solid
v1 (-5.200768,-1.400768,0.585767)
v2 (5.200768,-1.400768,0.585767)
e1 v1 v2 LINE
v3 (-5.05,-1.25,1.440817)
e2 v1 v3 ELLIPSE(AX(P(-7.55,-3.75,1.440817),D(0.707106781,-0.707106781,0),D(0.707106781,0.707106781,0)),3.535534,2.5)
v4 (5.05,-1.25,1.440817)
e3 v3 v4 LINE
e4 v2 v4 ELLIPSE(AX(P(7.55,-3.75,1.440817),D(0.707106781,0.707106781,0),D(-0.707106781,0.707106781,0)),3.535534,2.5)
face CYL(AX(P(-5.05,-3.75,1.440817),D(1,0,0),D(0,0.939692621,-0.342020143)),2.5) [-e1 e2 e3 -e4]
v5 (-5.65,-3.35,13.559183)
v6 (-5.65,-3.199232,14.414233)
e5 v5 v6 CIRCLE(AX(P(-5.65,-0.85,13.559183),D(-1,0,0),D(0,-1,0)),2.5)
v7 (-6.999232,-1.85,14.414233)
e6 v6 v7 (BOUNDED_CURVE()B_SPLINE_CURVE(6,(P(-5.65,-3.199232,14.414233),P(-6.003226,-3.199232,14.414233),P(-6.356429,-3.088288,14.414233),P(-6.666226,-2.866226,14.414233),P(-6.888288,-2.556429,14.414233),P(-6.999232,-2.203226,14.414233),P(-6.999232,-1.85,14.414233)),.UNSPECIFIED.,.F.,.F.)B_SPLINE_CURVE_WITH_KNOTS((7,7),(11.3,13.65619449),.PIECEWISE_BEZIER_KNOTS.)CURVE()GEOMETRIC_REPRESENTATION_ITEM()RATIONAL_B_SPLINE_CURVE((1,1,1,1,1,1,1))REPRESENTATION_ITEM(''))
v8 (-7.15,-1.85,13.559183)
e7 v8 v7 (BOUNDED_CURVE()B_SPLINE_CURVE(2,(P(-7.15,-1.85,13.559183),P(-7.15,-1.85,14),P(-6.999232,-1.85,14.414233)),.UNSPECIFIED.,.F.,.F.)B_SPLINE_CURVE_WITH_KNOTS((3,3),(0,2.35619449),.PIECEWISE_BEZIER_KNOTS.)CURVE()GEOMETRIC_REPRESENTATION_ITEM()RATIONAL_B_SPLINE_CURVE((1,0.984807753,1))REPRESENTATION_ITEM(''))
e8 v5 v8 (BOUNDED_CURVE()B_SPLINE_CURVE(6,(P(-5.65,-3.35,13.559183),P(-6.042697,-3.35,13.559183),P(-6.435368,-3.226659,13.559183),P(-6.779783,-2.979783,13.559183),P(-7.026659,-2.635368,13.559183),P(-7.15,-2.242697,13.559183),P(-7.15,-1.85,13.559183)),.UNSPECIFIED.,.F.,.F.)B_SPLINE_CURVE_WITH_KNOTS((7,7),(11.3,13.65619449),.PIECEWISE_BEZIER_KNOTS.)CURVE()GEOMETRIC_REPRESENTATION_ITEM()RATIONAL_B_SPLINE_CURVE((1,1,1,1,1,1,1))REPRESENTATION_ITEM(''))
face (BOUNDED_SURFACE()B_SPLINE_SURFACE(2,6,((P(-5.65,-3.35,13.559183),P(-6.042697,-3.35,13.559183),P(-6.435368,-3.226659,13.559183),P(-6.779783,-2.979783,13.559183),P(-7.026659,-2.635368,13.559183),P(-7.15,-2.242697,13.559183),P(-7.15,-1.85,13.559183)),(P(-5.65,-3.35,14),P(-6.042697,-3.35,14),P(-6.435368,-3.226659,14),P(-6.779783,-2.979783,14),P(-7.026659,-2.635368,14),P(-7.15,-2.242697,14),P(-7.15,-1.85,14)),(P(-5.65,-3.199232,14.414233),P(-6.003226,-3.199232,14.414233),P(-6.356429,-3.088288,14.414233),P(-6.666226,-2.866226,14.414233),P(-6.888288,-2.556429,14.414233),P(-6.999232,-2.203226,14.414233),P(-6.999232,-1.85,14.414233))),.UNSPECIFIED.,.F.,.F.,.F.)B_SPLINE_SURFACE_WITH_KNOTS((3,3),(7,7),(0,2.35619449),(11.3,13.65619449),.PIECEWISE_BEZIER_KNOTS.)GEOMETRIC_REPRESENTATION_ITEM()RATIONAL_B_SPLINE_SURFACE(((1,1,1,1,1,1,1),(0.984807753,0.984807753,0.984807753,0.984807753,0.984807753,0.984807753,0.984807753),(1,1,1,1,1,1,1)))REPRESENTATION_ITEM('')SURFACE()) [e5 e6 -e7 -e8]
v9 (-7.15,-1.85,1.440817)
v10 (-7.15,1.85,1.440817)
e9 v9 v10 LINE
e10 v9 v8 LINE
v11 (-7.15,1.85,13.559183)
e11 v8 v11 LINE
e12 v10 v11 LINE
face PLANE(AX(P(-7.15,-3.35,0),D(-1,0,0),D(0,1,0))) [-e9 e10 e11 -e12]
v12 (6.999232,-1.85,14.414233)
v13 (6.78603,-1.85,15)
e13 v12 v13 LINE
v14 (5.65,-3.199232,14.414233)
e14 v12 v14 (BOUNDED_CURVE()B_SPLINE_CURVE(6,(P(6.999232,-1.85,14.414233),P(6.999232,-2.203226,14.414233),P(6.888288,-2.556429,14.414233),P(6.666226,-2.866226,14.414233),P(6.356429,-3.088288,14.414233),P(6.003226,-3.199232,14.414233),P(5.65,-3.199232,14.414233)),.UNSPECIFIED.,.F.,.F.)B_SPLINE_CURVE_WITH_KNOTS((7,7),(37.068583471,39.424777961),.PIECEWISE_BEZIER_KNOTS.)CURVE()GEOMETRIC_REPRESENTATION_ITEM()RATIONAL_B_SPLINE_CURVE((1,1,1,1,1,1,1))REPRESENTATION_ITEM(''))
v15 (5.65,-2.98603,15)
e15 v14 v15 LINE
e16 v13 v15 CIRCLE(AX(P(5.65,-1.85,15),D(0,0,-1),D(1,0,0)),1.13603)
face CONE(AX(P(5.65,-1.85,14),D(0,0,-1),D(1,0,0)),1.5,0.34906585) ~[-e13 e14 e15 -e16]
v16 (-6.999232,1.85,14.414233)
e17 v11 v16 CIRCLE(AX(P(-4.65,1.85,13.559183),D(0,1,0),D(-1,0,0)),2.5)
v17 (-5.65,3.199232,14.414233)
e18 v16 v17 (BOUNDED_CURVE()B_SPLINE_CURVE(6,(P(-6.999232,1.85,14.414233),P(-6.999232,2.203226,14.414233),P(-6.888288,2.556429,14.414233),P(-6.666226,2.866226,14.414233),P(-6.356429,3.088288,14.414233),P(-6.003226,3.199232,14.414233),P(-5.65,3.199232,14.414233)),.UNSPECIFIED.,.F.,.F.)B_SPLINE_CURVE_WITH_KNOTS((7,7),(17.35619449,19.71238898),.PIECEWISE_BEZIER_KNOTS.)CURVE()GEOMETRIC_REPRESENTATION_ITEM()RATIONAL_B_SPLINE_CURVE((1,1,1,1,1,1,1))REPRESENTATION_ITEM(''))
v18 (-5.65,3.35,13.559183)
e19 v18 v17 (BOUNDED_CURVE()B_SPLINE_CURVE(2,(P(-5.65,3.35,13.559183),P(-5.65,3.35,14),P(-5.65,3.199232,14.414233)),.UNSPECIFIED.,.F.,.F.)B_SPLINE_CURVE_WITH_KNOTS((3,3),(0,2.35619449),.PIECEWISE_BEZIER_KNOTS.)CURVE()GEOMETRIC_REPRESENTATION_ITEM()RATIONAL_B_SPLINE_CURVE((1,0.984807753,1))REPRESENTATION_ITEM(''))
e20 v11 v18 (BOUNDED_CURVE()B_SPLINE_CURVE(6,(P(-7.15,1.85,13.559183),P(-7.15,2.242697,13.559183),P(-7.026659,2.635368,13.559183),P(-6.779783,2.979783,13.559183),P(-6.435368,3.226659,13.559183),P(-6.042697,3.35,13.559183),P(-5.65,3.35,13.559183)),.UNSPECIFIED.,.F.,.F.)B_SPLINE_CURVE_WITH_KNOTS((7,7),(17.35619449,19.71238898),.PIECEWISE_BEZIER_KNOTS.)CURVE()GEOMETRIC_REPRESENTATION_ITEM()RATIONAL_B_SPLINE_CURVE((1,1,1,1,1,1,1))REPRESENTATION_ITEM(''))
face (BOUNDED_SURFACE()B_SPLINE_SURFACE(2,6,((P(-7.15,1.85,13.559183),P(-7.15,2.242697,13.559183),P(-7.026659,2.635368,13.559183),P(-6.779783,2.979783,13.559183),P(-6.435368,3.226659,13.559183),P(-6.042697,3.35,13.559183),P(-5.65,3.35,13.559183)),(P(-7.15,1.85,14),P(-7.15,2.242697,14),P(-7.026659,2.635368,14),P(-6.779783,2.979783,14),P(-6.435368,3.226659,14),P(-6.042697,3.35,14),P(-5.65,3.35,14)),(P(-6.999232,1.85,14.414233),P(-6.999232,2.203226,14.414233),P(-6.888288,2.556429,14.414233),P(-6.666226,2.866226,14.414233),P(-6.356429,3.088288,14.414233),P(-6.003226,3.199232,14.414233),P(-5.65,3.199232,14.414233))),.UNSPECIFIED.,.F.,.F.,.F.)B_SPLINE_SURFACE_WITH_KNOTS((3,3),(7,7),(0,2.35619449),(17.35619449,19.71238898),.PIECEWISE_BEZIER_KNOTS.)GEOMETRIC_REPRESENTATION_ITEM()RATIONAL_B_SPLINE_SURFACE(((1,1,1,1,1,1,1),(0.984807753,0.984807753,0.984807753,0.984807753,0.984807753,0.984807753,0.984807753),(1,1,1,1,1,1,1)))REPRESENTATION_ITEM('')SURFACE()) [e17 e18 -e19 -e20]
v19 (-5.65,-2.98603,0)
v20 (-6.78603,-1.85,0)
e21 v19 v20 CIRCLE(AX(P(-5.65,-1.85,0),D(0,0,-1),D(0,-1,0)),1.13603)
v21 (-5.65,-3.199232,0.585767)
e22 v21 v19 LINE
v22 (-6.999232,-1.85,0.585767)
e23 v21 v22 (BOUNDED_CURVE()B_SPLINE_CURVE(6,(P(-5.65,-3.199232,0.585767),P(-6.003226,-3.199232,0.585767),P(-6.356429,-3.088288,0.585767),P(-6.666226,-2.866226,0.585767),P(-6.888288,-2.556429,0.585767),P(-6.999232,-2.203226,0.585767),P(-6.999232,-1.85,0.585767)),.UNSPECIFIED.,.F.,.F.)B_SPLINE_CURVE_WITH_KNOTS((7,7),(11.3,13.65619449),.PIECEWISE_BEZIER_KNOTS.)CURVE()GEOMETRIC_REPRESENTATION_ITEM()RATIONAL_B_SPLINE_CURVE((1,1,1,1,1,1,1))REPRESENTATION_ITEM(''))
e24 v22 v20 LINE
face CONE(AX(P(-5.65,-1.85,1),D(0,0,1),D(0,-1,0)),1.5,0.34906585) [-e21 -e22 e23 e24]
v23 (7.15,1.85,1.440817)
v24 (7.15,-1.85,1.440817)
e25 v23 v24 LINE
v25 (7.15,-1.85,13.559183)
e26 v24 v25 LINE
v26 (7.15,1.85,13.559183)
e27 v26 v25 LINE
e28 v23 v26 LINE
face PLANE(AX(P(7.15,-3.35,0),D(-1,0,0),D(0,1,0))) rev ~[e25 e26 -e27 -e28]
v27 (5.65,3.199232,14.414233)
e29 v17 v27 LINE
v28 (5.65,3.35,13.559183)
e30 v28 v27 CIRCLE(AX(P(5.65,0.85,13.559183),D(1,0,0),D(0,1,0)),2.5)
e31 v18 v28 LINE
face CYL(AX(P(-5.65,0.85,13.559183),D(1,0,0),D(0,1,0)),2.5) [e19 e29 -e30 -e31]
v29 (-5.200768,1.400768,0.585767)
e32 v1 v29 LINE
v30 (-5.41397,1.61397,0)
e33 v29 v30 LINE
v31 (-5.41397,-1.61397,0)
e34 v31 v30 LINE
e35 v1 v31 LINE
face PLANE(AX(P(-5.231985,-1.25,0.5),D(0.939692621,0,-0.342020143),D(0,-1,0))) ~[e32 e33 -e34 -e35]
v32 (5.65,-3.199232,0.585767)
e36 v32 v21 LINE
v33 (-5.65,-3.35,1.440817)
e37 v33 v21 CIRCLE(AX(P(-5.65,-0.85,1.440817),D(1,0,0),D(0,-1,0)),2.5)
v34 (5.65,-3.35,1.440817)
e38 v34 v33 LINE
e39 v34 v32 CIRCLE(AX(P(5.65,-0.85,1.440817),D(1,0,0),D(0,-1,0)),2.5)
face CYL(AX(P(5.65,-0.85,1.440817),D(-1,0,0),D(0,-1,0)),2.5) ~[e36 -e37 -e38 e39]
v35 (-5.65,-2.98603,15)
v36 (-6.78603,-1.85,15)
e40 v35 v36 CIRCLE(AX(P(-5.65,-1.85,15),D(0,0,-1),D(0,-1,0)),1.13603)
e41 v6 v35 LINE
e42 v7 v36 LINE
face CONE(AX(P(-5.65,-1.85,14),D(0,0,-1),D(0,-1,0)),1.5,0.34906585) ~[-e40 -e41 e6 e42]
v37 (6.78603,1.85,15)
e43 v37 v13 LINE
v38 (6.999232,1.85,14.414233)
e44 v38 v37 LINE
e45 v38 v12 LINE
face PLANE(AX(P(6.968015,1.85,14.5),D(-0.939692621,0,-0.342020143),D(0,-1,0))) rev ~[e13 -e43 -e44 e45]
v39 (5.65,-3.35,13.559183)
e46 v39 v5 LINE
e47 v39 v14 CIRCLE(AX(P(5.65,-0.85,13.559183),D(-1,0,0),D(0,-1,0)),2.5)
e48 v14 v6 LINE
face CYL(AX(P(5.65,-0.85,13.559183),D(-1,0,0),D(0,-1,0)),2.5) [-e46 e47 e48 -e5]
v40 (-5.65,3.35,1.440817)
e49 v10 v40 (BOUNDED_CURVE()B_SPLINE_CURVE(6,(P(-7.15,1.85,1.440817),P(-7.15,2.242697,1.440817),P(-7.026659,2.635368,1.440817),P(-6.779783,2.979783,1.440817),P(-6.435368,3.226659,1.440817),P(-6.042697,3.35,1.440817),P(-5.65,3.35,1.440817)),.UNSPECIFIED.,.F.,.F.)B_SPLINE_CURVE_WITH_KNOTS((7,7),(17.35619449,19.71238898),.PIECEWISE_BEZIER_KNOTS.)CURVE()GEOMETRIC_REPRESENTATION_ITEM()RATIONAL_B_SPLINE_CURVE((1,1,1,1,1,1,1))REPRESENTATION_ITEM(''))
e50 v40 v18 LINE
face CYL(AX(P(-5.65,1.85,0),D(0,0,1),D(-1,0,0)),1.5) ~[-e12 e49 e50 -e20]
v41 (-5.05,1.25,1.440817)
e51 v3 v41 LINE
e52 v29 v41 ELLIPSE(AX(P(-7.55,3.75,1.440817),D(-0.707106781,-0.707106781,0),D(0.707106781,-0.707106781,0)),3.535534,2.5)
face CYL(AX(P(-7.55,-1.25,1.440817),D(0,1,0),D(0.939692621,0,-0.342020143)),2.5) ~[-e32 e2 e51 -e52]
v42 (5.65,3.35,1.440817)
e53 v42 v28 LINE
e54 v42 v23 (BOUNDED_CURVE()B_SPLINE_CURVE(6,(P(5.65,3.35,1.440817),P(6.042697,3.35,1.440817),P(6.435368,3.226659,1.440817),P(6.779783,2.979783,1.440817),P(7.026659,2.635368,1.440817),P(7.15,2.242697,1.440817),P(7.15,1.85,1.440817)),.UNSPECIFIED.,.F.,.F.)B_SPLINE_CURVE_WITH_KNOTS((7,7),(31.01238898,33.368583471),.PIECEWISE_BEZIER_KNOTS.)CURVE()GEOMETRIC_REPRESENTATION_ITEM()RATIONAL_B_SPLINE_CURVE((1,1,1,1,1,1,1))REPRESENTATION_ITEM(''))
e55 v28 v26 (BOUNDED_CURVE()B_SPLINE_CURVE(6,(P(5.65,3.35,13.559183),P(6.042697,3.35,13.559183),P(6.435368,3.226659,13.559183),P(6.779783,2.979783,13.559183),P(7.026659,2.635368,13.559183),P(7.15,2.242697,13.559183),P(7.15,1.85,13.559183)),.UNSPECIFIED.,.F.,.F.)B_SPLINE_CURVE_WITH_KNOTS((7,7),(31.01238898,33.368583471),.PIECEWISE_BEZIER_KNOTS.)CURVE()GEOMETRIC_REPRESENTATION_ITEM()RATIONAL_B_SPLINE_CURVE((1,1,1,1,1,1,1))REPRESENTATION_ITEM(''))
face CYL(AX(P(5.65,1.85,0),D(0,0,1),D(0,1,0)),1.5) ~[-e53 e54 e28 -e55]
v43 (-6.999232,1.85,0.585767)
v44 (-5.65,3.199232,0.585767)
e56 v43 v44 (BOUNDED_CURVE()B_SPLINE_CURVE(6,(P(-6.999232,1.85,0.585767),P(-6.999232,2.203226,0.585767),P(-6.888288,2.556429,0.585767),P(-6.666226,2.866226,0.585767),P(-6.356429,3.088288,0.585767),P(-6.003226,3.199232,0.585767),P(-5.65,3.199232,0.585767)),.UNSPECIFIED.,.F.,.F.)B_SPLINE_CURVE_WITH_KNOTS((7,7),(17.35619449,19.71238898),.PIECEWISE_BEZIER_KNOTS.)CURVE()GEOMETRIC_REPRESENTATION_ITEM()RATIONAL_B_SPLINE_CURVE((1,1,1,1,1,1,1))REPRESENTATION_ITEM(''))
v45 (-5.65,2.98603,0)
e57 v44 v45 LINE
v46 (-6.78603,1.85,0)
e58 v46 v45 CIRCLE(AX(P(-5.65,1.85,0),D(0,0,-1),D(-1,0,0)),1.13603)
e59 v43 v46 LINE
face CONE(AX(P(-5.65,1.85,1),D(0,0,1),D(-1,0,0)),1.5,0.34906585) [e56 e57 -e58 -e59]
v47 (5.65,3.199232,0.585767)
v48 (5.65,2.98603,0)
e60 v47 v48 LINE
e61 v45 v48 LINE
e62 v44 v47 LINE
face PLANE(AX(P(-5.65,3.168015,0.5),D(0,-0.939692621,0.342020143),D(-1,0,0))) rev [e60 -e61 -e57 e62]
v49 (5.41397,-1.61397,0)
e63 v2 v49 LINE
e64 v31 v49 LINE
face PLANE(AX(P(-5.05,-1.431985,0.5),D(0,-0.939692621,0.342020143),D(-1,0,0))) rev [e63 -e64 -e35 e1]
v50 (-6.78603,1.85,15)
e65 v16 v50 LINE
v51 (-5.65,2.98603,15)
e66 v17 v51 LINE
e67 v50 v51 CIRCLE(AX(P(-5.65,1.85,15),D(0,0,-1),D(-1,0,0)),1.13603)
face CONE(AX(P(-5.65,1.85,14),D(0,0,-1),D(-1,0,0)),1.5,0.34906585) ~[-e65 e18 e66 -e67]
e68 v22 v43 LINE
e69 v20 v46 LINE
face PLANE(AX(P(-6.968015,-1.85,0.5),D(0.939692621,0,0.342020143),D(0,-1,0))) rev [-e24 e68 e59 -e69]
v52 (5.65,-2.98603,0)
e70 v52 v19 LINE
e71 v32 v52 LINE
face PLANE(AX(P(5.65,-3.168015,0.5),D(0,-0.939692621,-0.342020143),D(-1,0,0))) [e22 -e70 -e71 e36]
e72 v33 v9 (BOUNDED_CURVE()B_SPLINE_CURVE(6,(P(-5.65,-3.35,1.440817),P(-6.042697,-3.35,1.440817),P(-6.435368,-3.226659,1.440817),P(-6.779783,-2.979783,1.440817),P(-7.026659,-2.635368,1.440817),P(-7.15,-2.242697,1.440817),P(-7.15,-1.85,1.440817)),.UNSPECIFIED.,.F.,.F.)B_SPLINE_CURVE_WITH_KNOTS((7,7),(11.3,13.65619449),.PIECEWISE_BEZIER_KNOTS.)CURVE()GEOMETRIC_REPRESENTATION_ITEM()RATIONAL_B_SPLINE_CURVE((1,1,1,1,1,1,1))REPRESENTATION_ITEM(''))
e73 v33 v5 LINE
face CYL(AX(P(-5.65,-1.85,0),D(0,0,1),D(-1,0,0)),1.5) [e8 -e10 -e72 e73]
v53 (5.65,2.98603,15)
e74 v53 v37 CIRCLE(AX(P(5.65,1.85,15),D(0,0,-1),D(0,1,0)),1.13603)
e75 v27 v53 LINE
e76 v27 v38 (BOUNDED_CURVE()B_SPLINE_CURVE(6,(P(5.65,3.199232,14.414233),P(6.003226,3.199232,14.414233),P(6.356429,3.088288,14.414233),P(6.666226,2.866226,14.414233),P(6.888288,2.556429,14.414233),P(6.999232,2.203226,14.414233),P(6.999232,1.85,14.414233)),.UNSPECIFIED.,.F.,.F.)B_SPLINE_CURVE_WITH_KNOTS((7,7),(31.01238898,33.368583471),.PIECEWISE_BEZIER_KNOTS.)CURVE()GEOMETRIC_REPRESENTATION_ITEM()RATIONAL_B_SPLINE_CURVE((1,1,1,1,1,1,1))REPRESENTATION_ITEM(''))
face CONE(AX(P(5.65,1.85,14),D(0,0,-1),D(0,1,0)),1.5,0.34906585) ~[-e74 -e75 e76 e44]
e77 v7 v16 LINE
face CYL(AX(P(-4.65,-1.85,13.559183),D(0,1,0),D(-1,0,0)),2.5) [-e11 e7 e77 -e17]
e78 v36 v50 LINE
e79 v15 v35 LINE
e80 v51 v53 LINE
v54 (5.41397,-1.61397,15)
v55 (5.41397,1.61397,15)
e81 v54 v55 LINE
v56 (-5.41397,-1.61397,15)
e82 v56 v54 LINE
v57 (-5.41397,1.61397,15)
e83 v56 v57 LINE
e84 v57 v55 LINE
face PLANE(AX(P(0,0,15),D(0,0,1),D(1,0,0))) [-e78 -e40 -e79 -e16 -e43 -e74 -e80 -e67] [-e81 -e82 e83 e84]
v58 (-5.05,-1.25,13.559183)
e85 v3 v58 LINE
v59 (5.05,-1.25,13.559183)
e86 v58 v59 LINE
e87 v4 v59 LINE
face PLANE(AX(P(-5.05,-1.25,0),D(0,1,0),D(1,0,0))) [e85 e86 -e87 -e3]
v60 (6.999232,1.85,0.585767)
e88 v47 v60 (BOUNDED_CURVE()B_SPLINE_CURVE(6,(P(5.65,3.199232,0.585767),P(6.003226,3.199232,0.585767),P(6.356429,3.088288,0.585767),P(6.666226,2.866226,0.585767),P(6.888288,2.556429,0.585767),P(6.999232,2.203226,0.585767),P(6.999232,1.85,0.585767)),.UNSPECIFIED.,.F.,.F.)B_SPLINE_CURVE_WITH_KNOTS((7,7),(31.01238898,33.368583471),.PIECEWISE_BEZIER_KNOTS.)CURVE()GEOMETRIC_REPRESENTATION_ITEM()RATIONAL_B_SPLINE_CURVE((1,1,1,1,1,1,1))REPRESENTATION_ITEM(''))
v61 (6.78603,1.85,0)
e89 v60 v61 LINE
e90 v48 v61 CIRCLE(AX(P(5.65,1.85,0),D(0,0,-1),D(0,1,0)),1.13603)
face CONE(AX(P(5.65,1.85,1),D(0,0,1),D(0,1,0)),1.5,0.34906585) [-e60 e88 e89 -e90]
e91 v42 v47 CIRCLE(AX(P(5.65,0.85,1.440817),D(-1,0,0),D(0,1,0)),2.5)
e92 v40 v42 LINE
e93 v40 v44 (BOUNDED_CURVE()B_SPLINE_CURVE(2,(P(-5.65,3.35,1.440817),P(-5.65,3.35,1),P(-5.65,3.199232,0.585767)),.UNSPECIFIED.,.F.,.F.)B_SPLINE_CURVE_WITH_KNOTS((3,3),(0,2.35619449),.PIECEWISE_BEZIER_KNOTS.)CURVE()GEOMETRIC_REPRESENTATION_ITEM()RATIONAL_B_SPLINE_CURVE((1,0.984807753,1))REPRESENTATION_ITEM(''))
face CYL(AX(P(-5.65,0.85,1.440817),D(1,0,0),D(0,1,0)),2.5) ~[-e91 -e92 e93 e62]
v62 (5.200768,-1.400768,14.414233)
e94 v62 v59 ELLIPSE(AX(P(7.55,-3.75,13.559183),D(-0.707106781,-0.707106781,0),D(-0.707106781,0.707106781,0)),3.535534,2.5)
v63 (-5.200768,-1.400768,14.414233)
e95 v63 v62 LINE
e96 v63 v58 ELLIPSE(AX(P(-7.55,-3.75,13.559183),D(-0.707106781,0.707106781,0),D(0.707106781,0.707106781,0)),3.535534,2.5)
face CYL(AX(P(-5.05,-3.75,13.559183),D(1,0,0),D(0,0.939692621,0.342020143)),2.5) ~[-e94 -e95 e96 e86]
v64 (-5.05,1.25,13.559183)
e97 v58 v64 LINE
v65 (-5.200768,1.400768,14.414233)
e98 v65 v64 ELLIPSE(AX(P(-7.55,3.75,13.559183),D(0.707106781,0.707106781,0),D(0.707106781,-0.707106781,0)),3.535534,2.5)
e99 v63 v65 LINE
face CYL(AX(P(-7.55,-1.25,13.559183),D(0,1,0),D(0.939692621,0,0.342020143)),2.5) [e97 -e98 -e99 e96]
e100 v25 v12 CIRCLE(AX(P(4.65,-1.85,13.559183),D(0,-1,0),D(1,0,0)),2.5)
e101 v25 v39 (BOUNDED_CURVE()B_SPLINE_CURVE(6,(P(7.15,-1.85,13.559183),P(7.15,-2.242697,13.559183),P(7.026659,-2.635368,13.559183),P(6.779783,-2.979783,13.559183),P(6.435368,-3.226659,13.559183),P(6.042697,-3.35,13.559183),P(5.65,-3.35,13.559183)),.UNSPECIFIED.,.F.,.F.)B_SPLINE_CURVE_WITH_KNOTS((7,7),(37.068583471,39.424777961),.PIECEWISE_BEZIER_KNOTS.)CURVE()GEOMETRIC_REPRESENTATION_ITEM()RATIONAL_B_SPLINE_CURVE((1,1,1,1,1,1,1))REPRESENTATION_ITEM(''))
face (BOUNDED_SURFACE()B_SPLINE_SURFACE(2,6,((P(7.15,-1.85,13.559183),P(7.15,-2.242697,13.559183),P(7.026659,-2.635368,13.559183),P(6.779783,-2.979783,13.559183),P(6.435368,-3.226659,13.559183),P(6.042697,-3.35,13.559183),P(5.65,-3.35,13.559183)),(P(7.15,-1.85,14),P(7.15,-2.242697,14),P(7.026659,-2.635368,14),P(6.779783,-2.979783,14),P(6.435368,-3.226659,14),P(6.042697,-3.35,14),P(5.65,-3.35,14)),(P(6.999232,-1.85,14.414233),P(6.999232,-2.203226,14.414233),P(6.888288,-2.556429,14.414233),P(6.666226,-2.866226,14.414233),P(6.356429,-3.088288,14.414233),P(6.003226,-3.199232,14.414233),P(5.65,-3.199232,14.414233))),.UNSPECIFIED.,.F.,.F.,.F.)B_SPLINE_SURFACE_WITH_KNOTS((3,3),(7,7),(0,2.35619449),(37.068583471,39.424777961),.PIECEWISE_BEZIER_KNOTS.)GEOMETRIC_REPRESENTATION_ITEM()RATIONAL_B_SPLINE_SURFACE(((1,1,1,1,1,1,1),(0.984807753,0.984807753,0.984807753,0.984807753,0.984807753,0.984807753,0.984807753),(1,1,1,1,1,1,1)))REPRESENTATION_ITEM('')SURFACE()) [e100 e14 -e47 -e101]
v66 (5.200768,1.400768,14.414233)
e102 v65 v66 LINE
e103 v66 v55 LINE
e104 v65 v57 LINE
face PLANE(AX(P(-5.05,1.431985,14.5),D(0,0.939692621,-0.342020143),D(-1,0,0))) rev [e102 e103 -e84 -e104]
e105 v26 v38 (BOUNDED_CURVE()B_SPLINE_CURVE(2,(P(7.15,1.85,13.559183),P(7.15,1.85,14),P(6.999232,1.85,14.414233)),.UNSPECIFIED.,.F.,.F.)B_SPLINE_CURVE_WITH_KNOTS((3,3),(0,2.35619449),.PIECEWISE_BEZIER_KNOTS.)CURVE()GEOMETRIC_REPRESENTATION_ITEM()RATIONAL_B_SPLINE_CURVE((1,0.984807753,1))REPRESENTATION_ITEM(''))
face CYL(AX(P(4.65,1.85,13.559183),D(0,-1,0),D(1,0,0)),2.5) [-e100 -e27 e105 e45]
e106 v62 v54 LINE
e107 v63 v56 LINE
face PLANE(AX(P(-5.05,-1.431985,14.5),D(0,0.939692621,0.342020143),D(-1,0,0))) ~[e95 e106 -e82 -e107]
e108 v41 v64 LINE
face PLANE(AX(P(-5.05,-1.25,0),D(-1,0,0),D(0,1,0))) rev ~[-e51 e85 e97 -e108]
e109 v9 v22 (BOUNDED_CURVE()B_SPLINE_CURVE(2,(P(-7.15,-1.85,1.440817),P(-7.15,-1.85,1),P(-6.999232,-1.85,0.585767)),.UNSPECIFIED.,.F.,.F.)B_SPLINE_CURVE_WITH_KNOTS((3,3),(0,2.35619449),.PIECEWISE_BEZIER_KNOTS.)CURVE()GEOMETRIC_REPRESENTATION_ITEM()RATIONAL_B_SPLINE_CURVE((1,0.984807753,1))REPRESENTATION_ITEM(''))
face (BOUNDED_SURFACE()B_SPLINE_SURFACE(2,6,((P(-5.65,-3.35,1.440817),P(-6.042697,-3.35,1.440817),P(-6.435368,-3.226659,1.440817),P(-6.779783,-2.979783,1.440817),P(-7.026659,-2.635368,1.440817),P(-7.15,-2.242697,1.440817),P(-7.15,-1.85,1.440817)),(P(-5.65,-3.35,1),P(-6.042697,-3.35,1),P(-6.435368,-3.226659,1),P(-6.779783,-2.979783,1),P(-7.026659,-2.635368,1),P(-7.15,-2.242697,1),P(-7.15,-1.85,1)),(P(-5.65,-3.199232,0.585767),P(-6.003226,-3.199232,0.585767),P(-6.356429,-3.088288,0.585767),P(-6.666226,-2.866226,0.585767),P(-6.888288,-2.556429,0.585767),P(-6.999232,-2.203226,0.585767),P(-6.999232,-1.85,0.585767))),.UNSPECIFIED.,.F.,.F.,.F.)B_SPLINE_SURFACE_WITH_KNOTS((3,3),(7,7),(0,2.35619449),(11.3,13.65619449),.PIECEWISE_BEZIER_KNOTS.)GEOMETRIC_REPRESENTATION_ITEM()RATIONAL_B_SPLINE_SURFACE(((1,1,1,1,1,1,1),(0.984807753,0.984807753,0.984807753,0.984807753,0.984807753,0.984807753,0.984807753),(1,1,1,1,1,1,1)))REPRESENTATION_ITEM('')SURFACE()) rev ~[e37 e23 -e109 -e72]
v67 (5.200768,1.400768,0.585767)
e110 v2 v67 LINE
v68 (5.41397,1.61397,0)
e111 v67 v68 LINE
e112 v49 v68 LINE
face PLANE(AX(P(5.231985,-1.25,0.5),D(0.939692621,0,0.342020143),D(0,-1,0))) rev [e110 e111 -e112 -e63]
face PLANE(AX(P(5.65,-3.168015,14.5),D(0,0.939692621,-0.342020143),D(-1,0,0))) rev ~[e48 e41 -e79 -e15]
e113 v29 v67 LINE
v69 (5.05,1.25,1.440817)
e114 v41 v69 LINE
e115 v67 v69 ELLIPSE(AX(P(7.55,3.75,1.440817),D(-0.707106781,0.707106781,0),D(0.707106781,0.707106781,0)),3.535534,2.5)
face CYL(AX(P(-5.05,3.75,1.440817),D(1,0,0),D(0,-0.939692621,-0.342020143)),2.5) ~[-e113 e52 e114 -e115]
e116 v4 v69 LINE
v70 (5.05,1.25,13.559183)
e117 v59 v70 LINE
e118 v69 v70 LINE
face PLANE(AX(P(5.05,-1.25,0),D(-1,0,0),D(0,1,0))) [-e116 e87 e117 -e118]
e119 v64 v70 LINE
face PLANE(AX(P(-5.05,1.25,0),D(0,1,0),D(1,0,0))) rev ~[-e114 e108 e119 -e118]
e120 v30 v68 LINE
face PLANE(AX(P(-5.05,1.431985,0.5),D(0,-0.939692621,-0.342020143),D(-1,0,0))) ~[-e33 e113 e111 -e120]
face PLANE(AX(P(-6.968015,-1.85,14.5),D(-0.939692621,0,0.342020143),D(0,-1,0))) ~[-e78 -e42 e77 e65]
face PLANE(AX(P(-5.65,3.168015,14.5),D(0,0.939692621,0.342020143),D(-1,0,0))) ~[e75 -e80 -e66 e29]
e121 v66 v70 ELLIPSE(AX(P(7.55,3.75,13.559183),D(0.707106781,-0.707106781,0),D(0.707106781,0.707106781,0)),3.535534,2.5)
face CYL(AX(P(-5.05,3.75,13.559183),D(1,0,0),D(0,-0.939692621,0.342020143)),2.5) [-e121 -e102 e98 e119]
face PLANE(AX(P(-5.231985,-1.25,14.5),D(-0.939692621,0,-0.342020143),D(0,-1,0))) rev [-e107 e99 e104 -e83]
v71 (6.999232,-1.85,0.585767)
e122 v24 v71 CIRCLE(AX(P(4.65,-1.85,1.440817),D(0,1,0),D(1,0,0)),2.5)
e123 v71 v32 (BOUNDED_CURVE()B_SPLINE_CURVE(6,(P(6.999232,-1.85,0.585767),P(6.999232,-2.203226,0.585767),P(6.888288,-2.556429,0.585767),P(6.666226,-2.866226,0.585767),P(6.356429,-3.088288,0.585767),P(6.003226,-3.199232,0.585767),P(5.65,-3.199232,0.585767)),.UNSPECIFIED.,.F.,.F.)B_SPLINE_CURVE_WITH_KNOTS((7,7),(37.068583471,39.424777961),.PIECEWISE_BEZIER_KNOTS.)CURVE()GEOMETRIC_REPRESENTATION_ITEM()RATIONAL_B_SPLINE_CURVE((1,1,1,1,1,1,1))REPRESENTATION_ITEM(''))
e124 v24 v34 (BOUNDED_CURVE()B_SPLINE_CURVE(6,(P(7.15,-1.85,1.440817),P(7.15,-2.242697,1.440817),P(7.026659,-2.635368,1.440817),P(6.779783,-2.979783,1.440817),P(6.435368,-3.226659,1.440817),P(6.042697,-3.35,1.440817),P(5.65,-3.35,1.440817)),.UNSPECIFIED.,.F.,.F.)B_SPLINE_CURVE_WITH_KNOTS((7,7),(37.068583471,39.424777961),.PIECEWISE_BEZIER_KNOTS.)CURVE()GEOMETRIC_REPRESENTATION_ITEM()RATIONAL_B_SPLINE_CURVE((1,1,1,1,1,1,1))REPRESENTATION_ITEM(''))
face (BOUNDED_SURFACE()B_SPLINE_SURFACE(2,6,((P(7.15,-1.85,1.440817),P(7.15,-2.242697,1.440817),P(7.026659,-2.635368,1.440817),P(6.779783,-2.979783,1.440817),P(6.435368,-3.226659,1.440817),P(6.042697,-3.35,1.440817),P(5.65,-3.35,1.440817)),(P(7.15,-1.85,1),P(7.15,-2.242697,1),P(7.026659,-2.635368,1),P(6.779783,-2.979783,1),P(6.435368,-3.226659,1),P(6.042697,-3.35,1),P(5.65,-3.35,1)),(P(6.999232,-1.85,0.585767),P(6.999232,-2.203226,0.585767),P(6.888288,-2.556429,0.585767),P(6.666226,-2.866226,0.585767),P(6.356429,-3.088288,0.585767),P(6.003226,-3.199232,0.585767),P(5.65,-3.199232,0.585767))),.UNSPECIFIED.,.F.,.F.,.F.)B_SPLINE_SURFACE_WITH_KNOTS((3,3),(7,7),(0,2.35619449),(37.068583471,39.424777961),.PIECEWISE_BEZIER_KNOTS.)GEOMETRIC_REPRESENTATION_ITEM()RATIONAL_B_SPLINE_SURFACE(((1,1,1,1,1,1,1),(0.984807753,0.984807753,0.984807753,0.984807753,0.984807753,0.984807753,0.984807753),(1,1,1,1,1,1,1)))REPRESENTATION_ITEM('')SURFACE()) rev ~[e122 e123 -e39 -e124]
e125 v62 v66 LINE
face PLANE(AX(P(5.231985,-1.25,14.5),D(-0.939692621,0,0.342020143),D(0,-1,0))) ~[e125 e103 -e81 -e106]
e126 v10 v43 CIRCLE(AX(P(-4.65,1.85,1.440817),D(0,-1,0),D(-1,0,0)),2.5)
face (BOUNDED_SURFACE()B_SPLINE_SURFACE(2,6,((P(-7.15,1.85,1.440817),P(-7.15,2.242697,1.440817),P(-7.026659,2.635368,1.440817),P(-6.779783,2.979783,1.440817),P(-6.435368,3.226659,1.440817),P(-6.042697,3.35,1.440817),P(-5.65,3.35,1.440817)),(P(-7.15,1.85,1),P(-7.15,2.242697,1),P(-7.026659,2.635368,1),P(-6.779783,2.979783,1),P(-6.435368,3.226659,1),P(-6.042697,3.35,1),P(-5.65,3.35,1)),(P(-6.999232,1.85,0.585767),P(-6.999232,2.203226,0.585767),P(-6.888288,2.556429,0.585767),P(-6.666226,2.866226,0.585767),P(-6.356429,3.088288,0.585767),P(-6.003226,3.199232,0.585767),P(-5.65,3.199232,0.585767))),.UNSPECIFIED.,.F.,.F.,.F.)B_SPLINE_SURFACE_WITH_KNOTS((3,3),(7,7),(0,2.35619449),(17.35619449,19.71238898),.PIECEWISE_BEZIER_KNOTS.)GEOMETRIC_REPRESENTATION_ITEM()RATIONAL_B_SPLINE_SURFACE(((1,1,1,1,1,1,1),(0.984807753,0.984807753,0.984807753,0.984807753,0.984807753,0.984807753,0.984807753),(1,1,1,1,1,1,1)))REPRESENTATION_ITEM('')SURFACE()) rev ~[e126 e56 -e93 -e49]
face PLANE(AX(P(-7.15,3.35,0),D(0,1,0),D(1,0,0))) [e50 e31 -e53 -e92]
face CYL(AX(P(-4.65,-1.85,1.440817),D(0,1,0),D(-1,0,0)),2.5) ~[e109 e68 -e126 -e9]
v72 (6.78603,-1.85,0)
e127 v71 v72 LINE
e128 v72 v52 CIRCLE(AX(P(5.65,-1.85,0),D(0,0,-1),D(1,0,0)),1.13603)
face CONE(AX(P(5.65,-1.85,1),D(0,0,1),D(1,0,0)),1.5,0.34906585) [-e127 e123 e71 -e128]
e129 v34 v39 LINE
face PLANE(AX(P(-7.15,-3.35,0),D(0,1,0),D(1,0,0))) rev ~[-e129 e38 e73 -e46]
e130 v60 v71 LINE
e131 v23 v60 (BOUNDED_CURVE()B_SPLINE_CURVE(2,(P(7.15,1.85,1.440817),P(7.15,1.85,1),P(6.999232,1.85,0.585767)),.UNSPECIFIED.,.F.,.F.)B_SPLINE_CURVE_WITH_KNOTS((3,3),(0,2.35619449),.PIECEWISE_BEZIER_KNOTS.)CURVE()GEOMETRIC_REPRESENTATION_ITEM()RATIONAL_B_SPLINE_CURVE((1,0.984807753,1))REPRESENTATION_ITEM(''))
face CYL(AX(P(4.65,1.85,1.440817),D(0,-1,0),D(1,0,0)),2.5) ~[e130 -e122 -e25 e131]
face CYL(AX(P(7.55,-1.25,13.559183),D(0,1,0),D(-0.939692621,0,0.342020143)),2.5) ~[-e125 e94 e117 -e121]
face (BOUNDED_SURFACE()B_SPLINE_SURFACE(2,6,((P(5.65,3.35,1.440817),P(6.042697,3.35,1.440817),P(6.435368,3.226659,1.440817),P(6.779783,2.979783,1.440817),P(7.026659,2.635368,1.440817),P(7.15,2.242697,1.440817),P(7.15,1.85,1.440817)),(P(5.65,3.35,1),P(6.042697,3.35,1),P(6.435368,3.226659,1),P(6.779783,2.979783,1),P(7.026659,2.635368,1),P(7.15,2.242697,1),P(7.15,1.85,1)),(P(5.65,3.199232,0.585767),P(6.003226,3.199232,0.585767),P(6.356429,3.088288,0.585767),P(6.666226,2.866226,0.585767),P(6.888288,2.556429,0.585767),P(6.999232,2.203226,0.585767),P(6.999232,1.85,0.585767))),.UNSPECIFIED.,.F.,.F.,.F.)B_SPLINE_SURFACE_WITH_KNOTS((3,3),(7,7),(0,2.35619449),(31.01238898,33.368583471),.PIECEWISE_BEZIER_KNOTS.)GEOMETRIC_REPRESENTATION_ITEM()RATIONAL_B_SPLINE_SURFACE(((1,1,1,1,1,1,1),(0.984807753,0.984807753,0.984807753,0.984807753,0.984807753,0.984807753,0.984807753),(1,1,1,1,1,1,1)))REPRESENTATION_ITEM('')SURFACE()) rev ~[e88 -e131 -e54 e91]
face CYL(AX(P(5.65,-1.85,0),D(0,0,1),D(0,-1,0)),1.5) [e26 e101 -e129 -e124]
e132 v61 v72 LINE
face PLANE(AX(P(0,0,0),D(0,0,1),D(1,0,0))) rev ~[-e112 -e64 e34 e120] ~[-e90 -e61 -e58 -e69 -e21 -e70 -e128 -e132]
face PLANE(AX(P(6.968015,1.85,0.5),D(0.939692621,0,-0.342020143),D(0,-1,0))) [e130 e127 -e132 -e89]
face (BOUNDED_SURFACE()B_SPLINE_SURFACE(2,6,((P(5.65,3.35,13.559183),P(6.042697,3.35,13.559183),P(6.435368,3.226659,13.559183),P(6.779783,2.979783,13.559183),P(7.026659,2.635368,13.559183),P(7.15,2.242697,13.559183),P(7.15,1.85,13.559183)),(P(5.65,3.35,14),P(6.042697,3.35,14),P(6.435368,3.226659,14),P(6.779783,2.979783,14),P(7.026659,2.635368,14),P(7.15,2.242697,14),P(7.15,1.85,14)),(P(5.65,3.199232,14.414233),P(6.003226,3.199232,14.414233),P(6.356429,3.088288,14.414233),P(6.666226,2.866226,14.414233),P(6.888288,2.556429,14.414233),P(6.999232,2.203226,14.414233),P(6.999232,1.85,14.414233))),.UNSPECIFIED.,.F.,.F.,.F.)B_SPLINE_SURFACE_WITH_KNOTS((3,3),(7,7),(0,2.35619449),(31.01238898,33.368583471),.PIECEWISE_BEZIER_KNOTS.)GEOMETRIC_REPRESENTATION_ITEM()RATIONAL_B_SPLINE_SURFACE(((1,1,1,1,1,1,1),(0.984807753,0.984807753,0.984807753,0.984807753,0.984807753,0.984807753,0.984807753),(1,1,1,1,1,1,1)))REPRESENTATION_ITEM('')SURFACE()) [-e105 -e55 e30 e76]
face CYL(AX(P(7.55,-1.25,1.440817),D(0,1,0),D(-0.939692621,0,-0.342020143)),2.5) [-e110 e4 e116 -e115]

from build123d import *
from OCP.BRepFilletAPI import BRepFilletAPI_MakeChamfer

# Parameters (mm, degrees)
PROFILE_SKETCH_W         = 14.3
PROFILE_SKETCH_H         = 6.7
PROFILE_SKETCH_W_2       = 10.1
PROFILE_SKETCH_H_2       = 2.5
PROFILE_EXTRUDE_DEPTH    = 15
OUTSIDE_CORNER_FILLETS_R = 1.5
END_1_CHAMFER_SIZE       = 1
END_1_CHAMFER_SIZE2      = 0.363970234
END_2_CHAMFER_SIZE       = 1
END_2_CHAMFER_SIZE2      = 0.363970234
TRANSITION_FILLETS_R     = 2.5


with BuildPart() as part:
    # Profile Sketch → Profile Extrude (new body)
    with BuildSketch(Plane.XY):
        Rectangle(PROFILE_SKETCH_W, PROFILE_SKETCH_H)
        Rectangle(PROFILE_SKETCH_W_2, PROFILE_SKETCH_H_2, mode=Mode.SUBTRACT)
    extrude(amount=PROFILE_EXTRUDE_DEPTH)

    # Outside Corner Fillets
    outside_corner_fillets_edges = [part.edges().sort_by_distance(p)[0] for p in [
        (7.15, -3.35, 7.5),
        (-7.15, -3.35, 7.5),
        (-7.15, 3.35, 7.5),
        (7.15, 3.35, 7.5),
    ]]
    fillet(outside_corner_fillets_edges, radius=OUTSIDE_CORNER_FILLETS_R)

    # End 1 Chamfer: one chamfer whose edges measure the first distance from different faces: ONE call of the kernel's chamfer builder (chamfer() names one face for all edges)
    end_1_chamfer_edges_1 = [part.edges().sort_by_distance(p)[0] for p in [
        (5.05, 0, 15),
    ]]
    end_1_chamfer_side_1 = [part.faces().sort_by_distance(p)[0] for p in [
        (5.05, 0, 7.5),
    ]]
    end_1_chamfer_edges_2 = [part.edges().sort_by_distance(p)[0] for p in [
        (0, 1.25, 15),
    ]]
    end_1_chamfer_side_2 = [part.faces().sort_by_distance(p)[0] for p in [
        (0, 1.25, 7.5),
    ]]
    end_1_chamfer_edges_3 = [part.edges().sort_by_distance(p)[0] for p in [
        (-5.05, 0, 15),
    ]]
    end_1_chamfer_side_3 = [part.faces().sort_by_distance(p)[0] for p in [
        (-5.05, 0, 7.5),
    ]]
    end_1_chamfer_edges_4 = [part.edges().sort_by_distance(p)[0] for p in [
        (0, -1.25, 15),
    ]]
    end_1_chamfer_side_4 = [part.faces().sort_by_distance(p)[0] for p in [
        (0, -1.25, 7.5),
    ]]
    end_1_chamfer_edges_5 = [part.edges().sort_by_distance(p)[0] for p in [
        (0, 3.35, 0),
    ]]
    end_1_chamfer_side_5 = [part.faces().sort_by_distance(p)[0] for p in [
        (0, 3.35, 7.5),
    ]]
    end_1_chamfer_edges_6 = [part.edges().sort_by_distance(p)[0] for p in [
        (7.15, 0, 0),
    ]]
    end_1_chamfer_side_6 = [part.faces().sort_by_distance(p)[0] for p in [
        (7.15, 0, 7.5),
    ]]
    end_1_chamfer_edges_7 = [part.edges().sort_by_distance(p)[0] for p in [
        (0, -3.35, 0),
    ]]
    end_1_chamfer_side_7 = [part.faces().sort_by_distance(p)[0] for p in [
        (0, -3.35, 7.5),
    ]]
    end_1_chamfer_edges_8 = [part.edges().sort_by_distance(p)[0] for p in [
        (-7.15, 0, 0),
    ]]
    end_1_chamfer_side_8 = [part.faces().sort_by_distance(p)[0] for p in [
        (-7.15, 0, 7.5),
    ]]
    end_1_chamfer_edges_9 = [part.edges().sort_by_distance(p)[0] for p in [
        (-6.710660172, -2.910660172, 0),
    ]]
    end_1_chamfer_side_9 = [part.faces().sort_by_distance(p)[0] for p in [
        (-6.710660172, -2.910660172, 7.5),
    ]]
    end_1_chamfer_edges_10 = [part.edges().sort_by_distance(p)[0] for p in [
        (-6.710660172, 2.910660172, 0),
    ]]
    end_1_chamfer_side_10 = [part.faces().sort_by_distance(p)[0] for p in [
        (-6.710660172, 2.910660172, 7.5),
    ]]
    end_1_chamfer_edges_11 = [part.edges().sort_by_distance(p)[0] for p in [
        (6.710660172, -2.910660172, 0),
    ]]
    end_1_chamfer_side_11 = [part.faces().sort_by_distance(p)[0] for p in [
        (6.710660172, -2.910660172, 7.5),
    ]]
    end_1_chamfer_edges_12 = [part.edges().sort_by_distance(p)[0] for p in [
        (6.710660172, 2.910660172, 0),
    ]]
    end_1_chamfer_side_12 = [part.faces().sort_by_distance(p)[0] for p in [
        (6.710660172, 2.910660172, 7.5),
    ]]
    end_1_chamfer = BRepFilletAPI_MakeChamfer(part.part.solid().wrapped)
    for e in end_1_chamfer_edges_1:
        end_1_chamfer.Add(END_1_CHAMFER_SIZE, END_1_CHAMFER_SIZE2, e.wrapped, end_1_chamfer_side_1[0].wrapped)  # the first distance lies on this face
    for e in end_1_chamfer_edges_2:
        end_1_chamfer.Add(END_1_CHAMFER_SIZE, END_1_CHAMFER_SIZE2, e.wrapped, end_1_chamfer_side_2[0].wrapped)  # the first distance lies on this face
    for e in end_1_chamfer_edges_3:
        end_1_chamfer.Add(END_1_CHAMFER_SIZE, END_1_CHAMFER_SIZE2, e.wrapped, end_1_chamfer_side_3[0].wrapped)  # the first distance lies on this face
    for e in end_1_chamfer_edges_4:
        end_1_chamfer.Add(END_1_CHAMFER_SIZE, END_1_CHAMFER_SIZE2, e.wrapped, end_1_chamfer_side_4[0].wrapped)  # the first distance lies on this face
    for e in end_1_chamfer_edges_5:
        end_1_chamfer.Add(END_1_CHAMFER_SIZE, END_1_CHAMFER_SIZE2, e.wrapped, end_1_chamfer_side_5[0].wrapped)  # the first distance lies on this face
    for e in end_1_chamfer_edges_6:
        end_1_chamfer.Add(END_1_CHAMFER_SIZE, END_1_CHAMFER_SIZE2, e.wrapped, end_1_chamfer_side_6[0].wrapped)  # the first distance lies on this face
    for e in end_1_chamfer_edges_7:
        end_1_chamfer.Add(END_1_CHAMFER_SIZE, END_1_CHAMFER_SIZE2, e.wrapped, end_1_chamfer_side_7[0].wrapped)  # the first distance lies on this face
    for e in end_1_chamfer_edges_8:
        end_1_chamfer.Add(END_1_CHAMFER_SIZE, END_1_CHAMFER_SIZE2, e.wrapped, end_1_chamfer_side_8[0].wrapped)  # the first distance lies on this face
    for e in end_1_chamfer_edges_9:
        end_1_chamfer.Add(END_1_CHAMFER_SIZE, END_1_CHAMFER_SIZE2, e.wrapped, end_1_chamfer_side_9[0].wrapped)  # the first distance lies on this face
    for e in end_1_chamfer_edges_10:
        end_1_chamfer.Add(END_1_CHAMFER_SIZE, END_1_CHAMFER_SIZE2, e.wrapped, end_1_chamfer_side_10[0].wrapped)  # the first distance lies on this face
    for e in end_1_chamfer_edges_11:
        end_1_chamfer.Add(END_1_CHAMFER_SIZE, END_1_CHAMFER_SIZE2, e.wrapped, end_1_chamfer_side_11[0].wrapped)  # the first distance lies on this face
    for e in end_1_chamfer_edges_12:
        end_1_chamfer.Add(END_1_CHAMFER_SIZE, END_1_CHAMFER_SIZE2, e.wrapped, end_1_chamfer_side_12[0].wrapped)  # the first distance lies on this face
    add(Compound.cast(end_1_chamfer.Shape()), mode=Mode.REPLACE)

    # End 2 Chamfer: one chamfer whose edges measure the first distance from different faces: ONE call of the kernel's chamfer builder (chamfer() names one face for all edges)
    end_2_chamfer_edges_1 = [part.edges().sort_by_distance(p)[0] for p in [
        (5.05, 0, 0),
    ]]
    end_2_chamfer_side_1 = [part.faces().sort_by_distance(p)[0] for p in [
        (5.05, 0, 7),
    ]]
    end_2_chamfer_edges_2 = [part.edges().sort_by_distance(p)[0] for p in [
        (0, 1.25, 0),
    ]]
    end_2_chamfer_side_2 = [part.faces().sort_by_distance(p)[0] for p in [
        (0, 1.25, 7),
    ]]
    end_2_chamfer_edges_3 = [part.edges().sort_by_distance(p)[0] for p in [
        (-5.05, 0, 0),
    ]]
    end_2_chamfer_side_3 = [part.faces().sort_by_distance(p)[0] for p in [
        (-5.05, 0, 7),
    ]]
    end_2_chamfer_edges_4 = [part.edges().sort_by_distance(p)[0] for p in [
        (0, -1.25, 0),
    ]]
    end_2_chamfer_side_4 = [part.faces().sort_by_distance(p)[0] for p in [
        (0, -1.25, 7),
    ]]
    end_2_chamfer_edges_5 = [part.edges().sort_by_distance(p)[0] for p in [
        (0, 3.35, 15),
    ]]
    end_2_chamfer_side_5 = [part.faces().sort_by_distance(p)[0] for p in [
        (0, 3.35, 8),
    ]]
    end_2_chamfer_edges_6 = [part.edges().sort_by_distance(p)[0] for p in [
        (7.15, 0, 15),
    ]]
    end_2_chamfer_side_6 = [part.faces().sort_by_distance(p)[0] for p in [
        (7.15, 0, 8),
    ]]
    end_2_chamfer_edges_7 = [part.edges().sort_by_distance(p)[0] for p in [
        (-7.15, 0, 15),
    ]]
    end_2_chamfer_side_7 = [part.faces().sort_by_distance(p)[0] for p in [
        (-7.15, 0, 8),
    ]]
    end_2_chamfer_edges_8 = [part.edges().sort_by_distance(p)[0] for p in [
        (0, -3.35, 15),
    ]]
    end_2_chamfer_side_8 = [part.faces().sort_by_distance(p)[0] for p in [
        (0, -3.35, 8),
    ]]
    end_2_chamfer_edges_9 = [part.edges().sort_by_distance(p)[0] for p in [
        (-6.710660172, -2.910660172, 15),
    ]]
    end_2_chamfer_side_9 = [part.faces().sort_by_distance(p)[0] for p in [
        (-6.710660172, -2.910660172, 8),
    ]]
    end_2_chamfer_edges_10 = [part.edges().sort_by_distance(p)[0] for p in [
        (-6.710660172, 2.910660172, 15),
    ]]
    end_2_chamfer_side_10 = [part.faces().sort_by_distance(p)[0] for p in [
        (-6.710660172, 2.910660172, 8),
    ]]
    end_2_chamfer_edges_11 = [part.edges().sort_by_distance(p)[0] for p in [
        (6.710660172, -2.910660172, 15),
    ]]
    end_2_chamfer_side_11 = [part.faces().sort_by_distance(p)[0] for p in [
        (6.710660172, -2.910660172, 8),
    ]]
    end_2_chamfer_edges_12 = [part.edges().sort_by_distance(p)[0] for p in [
        (6.710660172, 2.910660172, 15),
    ]]
    end_2_chamfer_side_12 = [part.faces().sort_by_distance(p)[0] for p in [
        (6.710660172, 2.910660172, 8),
    ]]
    end_2_chamfer = BRepFilletAPI_MakeChamfer(part.part.solid().wrapped)
    for e in end_2_chamfer_edges_1:
        end_2_chamfer.Add(END_2_CHAMFER_SIZE, END_2_CHAMFER_SIZE2, e.wrapped, end_2_chamfer_side_1[0].wrapped)  # the first distance lies on this face
    for e in end_2_chamfer_edges_2:
        end_2_chamfer.Add(END_2_CHAMFER_SIZE, END_2_CHAMFER_SIZE2, e.wrapped, end_2_chamfer_side_2[0].wrapped)  # the first distance lies on this face
    for e in end_2_chamfer_edges_3:
        end_2_chamfer.Add(END_2_CHAMFER_SIZE, END_2_CHAMFER_SIZE2, e.wrapped, end_2_chamfer_side_3[0].wrapped)  # the first distance lies on this face
    for e in end_2_chamfer_edges_4:
        end_2_chamfer.Add(END_2_CHAMFER_SIZE, END_2_CHAMFER_SIZE2, e.wrapped, end_2_chamfer_side_4[0].wrapped)  # the first distance lies on this face
    for e in end_2_chamfer_edges_5:
        end_2_chamfer.Add(END_2_CHAMFER_SIZE, END_2_CHAMFER_SIZE2, e.wrapped, end_2_chamfer_side_5[0].wrapped)  # the first distance lies on this face
    for e in end_2_chamfer_edges_6:
        end_2_chamfer.Add(END_2_CHAMFER_SIZE, END_2_CHAMFER_SIZE2, e.wrapped, end_2_chamfer_side_6[0].wrapped)  # the first distance lies on this face
    for e in end_2_chamfer_edges_7:
        end_2_chamfer.Add(END_2_CHAMFER_SIZE, END_2_CHAMFER_SIZE2, e.wrapped, end_2_chamfer_side_7[0].wrapped)  # the first distance lies on this face
    for e in end_2_chamfer_edges_8:
        end_2_chamfer.Add(END_2_CHAMFER_SIZE, END_2_CHAMFER_SIZE2, e.wrapped, end_2_chamfer_side_8[0].wrapped)  # the first distance lies on this face
    for e in end_2_chamfer_edges_9:
        end_2_chamfer.Add(END_2_CHAMFER_SIZE, END_2_CHAMFER_SIZE2, e.wrapped, end_2_chamfer_side_9[0].wrapped)  # the first distance lies on this face
    for e in end_2_chamfer_edges_10:
        end_2_chamfer.Add(END_2_CHAMFER_SIZE, END_2_CHAMFER_SIZE2, e.wrapped, end_2_chamfer_side_10[0].wrapped)  # the first distance lies on this face
    for e in end_2_chamfer_edges_11:
        end_2_chamfer.Add(END_2_CHAMFER_SIZE, END_2_CHAMFER_SIZE2, e.wrapped, end_2_chamfer_side_11[0].wrapped)  # the first distance lies on this face
    for e in end_2_chamfer_edges_12:
        end_2_chamfer.Add(END_2_CHAMFER_SIZE, END_2_CHAMFER_SIZE2, e.wrapped, end_2_chamfer_side_12[0].wrapped)  # the first distance lies on this face
    add(Compound.cast(end_2_chamfer.Shape()), mode=Mode.REPLACE)

    # Transition Fillets
    transition_fillets_edges = [part.edges().sort_by_distance(p)[0] for p in [
        (0, -3.35, 14),
        (6.710660172, -2.910660172, 14),
        (-6.710660172, -2.910660172, 14),
        (7.15, 0, 14),
        (-7.15, 0, 14),
        (6.710660172, 2.910660172, 14),
        (-6.710660172, 2.910660172, 14),
        (0, 3.35, 14),
        (5.05, 0, 14),
        (0, 1.25, 14),
        (-5.05, 0, 14),
        (0, -1.25, 14),
        (0, -3.35, 1),
        (6.710660172, -2.910660172, 1),
        (-6.710660172, -2.910660172, 1),
        (7.15, 0, 1),
        (-7.15, 0, 1),
        (6.710660172, 2.910660172, 1),
        (-6.710660172, 2.910660172, 1),
        (0, 3.35, 1),
        (5.05, 0, 1),
        (0, 1.25, 1),
        (-5.05, 0, 1),
        (0, -1.25, 1),
    ]]
    fillet(transition_fillets_edges, radius=TRANSITION_FILLETS_R)


solid = part.part
